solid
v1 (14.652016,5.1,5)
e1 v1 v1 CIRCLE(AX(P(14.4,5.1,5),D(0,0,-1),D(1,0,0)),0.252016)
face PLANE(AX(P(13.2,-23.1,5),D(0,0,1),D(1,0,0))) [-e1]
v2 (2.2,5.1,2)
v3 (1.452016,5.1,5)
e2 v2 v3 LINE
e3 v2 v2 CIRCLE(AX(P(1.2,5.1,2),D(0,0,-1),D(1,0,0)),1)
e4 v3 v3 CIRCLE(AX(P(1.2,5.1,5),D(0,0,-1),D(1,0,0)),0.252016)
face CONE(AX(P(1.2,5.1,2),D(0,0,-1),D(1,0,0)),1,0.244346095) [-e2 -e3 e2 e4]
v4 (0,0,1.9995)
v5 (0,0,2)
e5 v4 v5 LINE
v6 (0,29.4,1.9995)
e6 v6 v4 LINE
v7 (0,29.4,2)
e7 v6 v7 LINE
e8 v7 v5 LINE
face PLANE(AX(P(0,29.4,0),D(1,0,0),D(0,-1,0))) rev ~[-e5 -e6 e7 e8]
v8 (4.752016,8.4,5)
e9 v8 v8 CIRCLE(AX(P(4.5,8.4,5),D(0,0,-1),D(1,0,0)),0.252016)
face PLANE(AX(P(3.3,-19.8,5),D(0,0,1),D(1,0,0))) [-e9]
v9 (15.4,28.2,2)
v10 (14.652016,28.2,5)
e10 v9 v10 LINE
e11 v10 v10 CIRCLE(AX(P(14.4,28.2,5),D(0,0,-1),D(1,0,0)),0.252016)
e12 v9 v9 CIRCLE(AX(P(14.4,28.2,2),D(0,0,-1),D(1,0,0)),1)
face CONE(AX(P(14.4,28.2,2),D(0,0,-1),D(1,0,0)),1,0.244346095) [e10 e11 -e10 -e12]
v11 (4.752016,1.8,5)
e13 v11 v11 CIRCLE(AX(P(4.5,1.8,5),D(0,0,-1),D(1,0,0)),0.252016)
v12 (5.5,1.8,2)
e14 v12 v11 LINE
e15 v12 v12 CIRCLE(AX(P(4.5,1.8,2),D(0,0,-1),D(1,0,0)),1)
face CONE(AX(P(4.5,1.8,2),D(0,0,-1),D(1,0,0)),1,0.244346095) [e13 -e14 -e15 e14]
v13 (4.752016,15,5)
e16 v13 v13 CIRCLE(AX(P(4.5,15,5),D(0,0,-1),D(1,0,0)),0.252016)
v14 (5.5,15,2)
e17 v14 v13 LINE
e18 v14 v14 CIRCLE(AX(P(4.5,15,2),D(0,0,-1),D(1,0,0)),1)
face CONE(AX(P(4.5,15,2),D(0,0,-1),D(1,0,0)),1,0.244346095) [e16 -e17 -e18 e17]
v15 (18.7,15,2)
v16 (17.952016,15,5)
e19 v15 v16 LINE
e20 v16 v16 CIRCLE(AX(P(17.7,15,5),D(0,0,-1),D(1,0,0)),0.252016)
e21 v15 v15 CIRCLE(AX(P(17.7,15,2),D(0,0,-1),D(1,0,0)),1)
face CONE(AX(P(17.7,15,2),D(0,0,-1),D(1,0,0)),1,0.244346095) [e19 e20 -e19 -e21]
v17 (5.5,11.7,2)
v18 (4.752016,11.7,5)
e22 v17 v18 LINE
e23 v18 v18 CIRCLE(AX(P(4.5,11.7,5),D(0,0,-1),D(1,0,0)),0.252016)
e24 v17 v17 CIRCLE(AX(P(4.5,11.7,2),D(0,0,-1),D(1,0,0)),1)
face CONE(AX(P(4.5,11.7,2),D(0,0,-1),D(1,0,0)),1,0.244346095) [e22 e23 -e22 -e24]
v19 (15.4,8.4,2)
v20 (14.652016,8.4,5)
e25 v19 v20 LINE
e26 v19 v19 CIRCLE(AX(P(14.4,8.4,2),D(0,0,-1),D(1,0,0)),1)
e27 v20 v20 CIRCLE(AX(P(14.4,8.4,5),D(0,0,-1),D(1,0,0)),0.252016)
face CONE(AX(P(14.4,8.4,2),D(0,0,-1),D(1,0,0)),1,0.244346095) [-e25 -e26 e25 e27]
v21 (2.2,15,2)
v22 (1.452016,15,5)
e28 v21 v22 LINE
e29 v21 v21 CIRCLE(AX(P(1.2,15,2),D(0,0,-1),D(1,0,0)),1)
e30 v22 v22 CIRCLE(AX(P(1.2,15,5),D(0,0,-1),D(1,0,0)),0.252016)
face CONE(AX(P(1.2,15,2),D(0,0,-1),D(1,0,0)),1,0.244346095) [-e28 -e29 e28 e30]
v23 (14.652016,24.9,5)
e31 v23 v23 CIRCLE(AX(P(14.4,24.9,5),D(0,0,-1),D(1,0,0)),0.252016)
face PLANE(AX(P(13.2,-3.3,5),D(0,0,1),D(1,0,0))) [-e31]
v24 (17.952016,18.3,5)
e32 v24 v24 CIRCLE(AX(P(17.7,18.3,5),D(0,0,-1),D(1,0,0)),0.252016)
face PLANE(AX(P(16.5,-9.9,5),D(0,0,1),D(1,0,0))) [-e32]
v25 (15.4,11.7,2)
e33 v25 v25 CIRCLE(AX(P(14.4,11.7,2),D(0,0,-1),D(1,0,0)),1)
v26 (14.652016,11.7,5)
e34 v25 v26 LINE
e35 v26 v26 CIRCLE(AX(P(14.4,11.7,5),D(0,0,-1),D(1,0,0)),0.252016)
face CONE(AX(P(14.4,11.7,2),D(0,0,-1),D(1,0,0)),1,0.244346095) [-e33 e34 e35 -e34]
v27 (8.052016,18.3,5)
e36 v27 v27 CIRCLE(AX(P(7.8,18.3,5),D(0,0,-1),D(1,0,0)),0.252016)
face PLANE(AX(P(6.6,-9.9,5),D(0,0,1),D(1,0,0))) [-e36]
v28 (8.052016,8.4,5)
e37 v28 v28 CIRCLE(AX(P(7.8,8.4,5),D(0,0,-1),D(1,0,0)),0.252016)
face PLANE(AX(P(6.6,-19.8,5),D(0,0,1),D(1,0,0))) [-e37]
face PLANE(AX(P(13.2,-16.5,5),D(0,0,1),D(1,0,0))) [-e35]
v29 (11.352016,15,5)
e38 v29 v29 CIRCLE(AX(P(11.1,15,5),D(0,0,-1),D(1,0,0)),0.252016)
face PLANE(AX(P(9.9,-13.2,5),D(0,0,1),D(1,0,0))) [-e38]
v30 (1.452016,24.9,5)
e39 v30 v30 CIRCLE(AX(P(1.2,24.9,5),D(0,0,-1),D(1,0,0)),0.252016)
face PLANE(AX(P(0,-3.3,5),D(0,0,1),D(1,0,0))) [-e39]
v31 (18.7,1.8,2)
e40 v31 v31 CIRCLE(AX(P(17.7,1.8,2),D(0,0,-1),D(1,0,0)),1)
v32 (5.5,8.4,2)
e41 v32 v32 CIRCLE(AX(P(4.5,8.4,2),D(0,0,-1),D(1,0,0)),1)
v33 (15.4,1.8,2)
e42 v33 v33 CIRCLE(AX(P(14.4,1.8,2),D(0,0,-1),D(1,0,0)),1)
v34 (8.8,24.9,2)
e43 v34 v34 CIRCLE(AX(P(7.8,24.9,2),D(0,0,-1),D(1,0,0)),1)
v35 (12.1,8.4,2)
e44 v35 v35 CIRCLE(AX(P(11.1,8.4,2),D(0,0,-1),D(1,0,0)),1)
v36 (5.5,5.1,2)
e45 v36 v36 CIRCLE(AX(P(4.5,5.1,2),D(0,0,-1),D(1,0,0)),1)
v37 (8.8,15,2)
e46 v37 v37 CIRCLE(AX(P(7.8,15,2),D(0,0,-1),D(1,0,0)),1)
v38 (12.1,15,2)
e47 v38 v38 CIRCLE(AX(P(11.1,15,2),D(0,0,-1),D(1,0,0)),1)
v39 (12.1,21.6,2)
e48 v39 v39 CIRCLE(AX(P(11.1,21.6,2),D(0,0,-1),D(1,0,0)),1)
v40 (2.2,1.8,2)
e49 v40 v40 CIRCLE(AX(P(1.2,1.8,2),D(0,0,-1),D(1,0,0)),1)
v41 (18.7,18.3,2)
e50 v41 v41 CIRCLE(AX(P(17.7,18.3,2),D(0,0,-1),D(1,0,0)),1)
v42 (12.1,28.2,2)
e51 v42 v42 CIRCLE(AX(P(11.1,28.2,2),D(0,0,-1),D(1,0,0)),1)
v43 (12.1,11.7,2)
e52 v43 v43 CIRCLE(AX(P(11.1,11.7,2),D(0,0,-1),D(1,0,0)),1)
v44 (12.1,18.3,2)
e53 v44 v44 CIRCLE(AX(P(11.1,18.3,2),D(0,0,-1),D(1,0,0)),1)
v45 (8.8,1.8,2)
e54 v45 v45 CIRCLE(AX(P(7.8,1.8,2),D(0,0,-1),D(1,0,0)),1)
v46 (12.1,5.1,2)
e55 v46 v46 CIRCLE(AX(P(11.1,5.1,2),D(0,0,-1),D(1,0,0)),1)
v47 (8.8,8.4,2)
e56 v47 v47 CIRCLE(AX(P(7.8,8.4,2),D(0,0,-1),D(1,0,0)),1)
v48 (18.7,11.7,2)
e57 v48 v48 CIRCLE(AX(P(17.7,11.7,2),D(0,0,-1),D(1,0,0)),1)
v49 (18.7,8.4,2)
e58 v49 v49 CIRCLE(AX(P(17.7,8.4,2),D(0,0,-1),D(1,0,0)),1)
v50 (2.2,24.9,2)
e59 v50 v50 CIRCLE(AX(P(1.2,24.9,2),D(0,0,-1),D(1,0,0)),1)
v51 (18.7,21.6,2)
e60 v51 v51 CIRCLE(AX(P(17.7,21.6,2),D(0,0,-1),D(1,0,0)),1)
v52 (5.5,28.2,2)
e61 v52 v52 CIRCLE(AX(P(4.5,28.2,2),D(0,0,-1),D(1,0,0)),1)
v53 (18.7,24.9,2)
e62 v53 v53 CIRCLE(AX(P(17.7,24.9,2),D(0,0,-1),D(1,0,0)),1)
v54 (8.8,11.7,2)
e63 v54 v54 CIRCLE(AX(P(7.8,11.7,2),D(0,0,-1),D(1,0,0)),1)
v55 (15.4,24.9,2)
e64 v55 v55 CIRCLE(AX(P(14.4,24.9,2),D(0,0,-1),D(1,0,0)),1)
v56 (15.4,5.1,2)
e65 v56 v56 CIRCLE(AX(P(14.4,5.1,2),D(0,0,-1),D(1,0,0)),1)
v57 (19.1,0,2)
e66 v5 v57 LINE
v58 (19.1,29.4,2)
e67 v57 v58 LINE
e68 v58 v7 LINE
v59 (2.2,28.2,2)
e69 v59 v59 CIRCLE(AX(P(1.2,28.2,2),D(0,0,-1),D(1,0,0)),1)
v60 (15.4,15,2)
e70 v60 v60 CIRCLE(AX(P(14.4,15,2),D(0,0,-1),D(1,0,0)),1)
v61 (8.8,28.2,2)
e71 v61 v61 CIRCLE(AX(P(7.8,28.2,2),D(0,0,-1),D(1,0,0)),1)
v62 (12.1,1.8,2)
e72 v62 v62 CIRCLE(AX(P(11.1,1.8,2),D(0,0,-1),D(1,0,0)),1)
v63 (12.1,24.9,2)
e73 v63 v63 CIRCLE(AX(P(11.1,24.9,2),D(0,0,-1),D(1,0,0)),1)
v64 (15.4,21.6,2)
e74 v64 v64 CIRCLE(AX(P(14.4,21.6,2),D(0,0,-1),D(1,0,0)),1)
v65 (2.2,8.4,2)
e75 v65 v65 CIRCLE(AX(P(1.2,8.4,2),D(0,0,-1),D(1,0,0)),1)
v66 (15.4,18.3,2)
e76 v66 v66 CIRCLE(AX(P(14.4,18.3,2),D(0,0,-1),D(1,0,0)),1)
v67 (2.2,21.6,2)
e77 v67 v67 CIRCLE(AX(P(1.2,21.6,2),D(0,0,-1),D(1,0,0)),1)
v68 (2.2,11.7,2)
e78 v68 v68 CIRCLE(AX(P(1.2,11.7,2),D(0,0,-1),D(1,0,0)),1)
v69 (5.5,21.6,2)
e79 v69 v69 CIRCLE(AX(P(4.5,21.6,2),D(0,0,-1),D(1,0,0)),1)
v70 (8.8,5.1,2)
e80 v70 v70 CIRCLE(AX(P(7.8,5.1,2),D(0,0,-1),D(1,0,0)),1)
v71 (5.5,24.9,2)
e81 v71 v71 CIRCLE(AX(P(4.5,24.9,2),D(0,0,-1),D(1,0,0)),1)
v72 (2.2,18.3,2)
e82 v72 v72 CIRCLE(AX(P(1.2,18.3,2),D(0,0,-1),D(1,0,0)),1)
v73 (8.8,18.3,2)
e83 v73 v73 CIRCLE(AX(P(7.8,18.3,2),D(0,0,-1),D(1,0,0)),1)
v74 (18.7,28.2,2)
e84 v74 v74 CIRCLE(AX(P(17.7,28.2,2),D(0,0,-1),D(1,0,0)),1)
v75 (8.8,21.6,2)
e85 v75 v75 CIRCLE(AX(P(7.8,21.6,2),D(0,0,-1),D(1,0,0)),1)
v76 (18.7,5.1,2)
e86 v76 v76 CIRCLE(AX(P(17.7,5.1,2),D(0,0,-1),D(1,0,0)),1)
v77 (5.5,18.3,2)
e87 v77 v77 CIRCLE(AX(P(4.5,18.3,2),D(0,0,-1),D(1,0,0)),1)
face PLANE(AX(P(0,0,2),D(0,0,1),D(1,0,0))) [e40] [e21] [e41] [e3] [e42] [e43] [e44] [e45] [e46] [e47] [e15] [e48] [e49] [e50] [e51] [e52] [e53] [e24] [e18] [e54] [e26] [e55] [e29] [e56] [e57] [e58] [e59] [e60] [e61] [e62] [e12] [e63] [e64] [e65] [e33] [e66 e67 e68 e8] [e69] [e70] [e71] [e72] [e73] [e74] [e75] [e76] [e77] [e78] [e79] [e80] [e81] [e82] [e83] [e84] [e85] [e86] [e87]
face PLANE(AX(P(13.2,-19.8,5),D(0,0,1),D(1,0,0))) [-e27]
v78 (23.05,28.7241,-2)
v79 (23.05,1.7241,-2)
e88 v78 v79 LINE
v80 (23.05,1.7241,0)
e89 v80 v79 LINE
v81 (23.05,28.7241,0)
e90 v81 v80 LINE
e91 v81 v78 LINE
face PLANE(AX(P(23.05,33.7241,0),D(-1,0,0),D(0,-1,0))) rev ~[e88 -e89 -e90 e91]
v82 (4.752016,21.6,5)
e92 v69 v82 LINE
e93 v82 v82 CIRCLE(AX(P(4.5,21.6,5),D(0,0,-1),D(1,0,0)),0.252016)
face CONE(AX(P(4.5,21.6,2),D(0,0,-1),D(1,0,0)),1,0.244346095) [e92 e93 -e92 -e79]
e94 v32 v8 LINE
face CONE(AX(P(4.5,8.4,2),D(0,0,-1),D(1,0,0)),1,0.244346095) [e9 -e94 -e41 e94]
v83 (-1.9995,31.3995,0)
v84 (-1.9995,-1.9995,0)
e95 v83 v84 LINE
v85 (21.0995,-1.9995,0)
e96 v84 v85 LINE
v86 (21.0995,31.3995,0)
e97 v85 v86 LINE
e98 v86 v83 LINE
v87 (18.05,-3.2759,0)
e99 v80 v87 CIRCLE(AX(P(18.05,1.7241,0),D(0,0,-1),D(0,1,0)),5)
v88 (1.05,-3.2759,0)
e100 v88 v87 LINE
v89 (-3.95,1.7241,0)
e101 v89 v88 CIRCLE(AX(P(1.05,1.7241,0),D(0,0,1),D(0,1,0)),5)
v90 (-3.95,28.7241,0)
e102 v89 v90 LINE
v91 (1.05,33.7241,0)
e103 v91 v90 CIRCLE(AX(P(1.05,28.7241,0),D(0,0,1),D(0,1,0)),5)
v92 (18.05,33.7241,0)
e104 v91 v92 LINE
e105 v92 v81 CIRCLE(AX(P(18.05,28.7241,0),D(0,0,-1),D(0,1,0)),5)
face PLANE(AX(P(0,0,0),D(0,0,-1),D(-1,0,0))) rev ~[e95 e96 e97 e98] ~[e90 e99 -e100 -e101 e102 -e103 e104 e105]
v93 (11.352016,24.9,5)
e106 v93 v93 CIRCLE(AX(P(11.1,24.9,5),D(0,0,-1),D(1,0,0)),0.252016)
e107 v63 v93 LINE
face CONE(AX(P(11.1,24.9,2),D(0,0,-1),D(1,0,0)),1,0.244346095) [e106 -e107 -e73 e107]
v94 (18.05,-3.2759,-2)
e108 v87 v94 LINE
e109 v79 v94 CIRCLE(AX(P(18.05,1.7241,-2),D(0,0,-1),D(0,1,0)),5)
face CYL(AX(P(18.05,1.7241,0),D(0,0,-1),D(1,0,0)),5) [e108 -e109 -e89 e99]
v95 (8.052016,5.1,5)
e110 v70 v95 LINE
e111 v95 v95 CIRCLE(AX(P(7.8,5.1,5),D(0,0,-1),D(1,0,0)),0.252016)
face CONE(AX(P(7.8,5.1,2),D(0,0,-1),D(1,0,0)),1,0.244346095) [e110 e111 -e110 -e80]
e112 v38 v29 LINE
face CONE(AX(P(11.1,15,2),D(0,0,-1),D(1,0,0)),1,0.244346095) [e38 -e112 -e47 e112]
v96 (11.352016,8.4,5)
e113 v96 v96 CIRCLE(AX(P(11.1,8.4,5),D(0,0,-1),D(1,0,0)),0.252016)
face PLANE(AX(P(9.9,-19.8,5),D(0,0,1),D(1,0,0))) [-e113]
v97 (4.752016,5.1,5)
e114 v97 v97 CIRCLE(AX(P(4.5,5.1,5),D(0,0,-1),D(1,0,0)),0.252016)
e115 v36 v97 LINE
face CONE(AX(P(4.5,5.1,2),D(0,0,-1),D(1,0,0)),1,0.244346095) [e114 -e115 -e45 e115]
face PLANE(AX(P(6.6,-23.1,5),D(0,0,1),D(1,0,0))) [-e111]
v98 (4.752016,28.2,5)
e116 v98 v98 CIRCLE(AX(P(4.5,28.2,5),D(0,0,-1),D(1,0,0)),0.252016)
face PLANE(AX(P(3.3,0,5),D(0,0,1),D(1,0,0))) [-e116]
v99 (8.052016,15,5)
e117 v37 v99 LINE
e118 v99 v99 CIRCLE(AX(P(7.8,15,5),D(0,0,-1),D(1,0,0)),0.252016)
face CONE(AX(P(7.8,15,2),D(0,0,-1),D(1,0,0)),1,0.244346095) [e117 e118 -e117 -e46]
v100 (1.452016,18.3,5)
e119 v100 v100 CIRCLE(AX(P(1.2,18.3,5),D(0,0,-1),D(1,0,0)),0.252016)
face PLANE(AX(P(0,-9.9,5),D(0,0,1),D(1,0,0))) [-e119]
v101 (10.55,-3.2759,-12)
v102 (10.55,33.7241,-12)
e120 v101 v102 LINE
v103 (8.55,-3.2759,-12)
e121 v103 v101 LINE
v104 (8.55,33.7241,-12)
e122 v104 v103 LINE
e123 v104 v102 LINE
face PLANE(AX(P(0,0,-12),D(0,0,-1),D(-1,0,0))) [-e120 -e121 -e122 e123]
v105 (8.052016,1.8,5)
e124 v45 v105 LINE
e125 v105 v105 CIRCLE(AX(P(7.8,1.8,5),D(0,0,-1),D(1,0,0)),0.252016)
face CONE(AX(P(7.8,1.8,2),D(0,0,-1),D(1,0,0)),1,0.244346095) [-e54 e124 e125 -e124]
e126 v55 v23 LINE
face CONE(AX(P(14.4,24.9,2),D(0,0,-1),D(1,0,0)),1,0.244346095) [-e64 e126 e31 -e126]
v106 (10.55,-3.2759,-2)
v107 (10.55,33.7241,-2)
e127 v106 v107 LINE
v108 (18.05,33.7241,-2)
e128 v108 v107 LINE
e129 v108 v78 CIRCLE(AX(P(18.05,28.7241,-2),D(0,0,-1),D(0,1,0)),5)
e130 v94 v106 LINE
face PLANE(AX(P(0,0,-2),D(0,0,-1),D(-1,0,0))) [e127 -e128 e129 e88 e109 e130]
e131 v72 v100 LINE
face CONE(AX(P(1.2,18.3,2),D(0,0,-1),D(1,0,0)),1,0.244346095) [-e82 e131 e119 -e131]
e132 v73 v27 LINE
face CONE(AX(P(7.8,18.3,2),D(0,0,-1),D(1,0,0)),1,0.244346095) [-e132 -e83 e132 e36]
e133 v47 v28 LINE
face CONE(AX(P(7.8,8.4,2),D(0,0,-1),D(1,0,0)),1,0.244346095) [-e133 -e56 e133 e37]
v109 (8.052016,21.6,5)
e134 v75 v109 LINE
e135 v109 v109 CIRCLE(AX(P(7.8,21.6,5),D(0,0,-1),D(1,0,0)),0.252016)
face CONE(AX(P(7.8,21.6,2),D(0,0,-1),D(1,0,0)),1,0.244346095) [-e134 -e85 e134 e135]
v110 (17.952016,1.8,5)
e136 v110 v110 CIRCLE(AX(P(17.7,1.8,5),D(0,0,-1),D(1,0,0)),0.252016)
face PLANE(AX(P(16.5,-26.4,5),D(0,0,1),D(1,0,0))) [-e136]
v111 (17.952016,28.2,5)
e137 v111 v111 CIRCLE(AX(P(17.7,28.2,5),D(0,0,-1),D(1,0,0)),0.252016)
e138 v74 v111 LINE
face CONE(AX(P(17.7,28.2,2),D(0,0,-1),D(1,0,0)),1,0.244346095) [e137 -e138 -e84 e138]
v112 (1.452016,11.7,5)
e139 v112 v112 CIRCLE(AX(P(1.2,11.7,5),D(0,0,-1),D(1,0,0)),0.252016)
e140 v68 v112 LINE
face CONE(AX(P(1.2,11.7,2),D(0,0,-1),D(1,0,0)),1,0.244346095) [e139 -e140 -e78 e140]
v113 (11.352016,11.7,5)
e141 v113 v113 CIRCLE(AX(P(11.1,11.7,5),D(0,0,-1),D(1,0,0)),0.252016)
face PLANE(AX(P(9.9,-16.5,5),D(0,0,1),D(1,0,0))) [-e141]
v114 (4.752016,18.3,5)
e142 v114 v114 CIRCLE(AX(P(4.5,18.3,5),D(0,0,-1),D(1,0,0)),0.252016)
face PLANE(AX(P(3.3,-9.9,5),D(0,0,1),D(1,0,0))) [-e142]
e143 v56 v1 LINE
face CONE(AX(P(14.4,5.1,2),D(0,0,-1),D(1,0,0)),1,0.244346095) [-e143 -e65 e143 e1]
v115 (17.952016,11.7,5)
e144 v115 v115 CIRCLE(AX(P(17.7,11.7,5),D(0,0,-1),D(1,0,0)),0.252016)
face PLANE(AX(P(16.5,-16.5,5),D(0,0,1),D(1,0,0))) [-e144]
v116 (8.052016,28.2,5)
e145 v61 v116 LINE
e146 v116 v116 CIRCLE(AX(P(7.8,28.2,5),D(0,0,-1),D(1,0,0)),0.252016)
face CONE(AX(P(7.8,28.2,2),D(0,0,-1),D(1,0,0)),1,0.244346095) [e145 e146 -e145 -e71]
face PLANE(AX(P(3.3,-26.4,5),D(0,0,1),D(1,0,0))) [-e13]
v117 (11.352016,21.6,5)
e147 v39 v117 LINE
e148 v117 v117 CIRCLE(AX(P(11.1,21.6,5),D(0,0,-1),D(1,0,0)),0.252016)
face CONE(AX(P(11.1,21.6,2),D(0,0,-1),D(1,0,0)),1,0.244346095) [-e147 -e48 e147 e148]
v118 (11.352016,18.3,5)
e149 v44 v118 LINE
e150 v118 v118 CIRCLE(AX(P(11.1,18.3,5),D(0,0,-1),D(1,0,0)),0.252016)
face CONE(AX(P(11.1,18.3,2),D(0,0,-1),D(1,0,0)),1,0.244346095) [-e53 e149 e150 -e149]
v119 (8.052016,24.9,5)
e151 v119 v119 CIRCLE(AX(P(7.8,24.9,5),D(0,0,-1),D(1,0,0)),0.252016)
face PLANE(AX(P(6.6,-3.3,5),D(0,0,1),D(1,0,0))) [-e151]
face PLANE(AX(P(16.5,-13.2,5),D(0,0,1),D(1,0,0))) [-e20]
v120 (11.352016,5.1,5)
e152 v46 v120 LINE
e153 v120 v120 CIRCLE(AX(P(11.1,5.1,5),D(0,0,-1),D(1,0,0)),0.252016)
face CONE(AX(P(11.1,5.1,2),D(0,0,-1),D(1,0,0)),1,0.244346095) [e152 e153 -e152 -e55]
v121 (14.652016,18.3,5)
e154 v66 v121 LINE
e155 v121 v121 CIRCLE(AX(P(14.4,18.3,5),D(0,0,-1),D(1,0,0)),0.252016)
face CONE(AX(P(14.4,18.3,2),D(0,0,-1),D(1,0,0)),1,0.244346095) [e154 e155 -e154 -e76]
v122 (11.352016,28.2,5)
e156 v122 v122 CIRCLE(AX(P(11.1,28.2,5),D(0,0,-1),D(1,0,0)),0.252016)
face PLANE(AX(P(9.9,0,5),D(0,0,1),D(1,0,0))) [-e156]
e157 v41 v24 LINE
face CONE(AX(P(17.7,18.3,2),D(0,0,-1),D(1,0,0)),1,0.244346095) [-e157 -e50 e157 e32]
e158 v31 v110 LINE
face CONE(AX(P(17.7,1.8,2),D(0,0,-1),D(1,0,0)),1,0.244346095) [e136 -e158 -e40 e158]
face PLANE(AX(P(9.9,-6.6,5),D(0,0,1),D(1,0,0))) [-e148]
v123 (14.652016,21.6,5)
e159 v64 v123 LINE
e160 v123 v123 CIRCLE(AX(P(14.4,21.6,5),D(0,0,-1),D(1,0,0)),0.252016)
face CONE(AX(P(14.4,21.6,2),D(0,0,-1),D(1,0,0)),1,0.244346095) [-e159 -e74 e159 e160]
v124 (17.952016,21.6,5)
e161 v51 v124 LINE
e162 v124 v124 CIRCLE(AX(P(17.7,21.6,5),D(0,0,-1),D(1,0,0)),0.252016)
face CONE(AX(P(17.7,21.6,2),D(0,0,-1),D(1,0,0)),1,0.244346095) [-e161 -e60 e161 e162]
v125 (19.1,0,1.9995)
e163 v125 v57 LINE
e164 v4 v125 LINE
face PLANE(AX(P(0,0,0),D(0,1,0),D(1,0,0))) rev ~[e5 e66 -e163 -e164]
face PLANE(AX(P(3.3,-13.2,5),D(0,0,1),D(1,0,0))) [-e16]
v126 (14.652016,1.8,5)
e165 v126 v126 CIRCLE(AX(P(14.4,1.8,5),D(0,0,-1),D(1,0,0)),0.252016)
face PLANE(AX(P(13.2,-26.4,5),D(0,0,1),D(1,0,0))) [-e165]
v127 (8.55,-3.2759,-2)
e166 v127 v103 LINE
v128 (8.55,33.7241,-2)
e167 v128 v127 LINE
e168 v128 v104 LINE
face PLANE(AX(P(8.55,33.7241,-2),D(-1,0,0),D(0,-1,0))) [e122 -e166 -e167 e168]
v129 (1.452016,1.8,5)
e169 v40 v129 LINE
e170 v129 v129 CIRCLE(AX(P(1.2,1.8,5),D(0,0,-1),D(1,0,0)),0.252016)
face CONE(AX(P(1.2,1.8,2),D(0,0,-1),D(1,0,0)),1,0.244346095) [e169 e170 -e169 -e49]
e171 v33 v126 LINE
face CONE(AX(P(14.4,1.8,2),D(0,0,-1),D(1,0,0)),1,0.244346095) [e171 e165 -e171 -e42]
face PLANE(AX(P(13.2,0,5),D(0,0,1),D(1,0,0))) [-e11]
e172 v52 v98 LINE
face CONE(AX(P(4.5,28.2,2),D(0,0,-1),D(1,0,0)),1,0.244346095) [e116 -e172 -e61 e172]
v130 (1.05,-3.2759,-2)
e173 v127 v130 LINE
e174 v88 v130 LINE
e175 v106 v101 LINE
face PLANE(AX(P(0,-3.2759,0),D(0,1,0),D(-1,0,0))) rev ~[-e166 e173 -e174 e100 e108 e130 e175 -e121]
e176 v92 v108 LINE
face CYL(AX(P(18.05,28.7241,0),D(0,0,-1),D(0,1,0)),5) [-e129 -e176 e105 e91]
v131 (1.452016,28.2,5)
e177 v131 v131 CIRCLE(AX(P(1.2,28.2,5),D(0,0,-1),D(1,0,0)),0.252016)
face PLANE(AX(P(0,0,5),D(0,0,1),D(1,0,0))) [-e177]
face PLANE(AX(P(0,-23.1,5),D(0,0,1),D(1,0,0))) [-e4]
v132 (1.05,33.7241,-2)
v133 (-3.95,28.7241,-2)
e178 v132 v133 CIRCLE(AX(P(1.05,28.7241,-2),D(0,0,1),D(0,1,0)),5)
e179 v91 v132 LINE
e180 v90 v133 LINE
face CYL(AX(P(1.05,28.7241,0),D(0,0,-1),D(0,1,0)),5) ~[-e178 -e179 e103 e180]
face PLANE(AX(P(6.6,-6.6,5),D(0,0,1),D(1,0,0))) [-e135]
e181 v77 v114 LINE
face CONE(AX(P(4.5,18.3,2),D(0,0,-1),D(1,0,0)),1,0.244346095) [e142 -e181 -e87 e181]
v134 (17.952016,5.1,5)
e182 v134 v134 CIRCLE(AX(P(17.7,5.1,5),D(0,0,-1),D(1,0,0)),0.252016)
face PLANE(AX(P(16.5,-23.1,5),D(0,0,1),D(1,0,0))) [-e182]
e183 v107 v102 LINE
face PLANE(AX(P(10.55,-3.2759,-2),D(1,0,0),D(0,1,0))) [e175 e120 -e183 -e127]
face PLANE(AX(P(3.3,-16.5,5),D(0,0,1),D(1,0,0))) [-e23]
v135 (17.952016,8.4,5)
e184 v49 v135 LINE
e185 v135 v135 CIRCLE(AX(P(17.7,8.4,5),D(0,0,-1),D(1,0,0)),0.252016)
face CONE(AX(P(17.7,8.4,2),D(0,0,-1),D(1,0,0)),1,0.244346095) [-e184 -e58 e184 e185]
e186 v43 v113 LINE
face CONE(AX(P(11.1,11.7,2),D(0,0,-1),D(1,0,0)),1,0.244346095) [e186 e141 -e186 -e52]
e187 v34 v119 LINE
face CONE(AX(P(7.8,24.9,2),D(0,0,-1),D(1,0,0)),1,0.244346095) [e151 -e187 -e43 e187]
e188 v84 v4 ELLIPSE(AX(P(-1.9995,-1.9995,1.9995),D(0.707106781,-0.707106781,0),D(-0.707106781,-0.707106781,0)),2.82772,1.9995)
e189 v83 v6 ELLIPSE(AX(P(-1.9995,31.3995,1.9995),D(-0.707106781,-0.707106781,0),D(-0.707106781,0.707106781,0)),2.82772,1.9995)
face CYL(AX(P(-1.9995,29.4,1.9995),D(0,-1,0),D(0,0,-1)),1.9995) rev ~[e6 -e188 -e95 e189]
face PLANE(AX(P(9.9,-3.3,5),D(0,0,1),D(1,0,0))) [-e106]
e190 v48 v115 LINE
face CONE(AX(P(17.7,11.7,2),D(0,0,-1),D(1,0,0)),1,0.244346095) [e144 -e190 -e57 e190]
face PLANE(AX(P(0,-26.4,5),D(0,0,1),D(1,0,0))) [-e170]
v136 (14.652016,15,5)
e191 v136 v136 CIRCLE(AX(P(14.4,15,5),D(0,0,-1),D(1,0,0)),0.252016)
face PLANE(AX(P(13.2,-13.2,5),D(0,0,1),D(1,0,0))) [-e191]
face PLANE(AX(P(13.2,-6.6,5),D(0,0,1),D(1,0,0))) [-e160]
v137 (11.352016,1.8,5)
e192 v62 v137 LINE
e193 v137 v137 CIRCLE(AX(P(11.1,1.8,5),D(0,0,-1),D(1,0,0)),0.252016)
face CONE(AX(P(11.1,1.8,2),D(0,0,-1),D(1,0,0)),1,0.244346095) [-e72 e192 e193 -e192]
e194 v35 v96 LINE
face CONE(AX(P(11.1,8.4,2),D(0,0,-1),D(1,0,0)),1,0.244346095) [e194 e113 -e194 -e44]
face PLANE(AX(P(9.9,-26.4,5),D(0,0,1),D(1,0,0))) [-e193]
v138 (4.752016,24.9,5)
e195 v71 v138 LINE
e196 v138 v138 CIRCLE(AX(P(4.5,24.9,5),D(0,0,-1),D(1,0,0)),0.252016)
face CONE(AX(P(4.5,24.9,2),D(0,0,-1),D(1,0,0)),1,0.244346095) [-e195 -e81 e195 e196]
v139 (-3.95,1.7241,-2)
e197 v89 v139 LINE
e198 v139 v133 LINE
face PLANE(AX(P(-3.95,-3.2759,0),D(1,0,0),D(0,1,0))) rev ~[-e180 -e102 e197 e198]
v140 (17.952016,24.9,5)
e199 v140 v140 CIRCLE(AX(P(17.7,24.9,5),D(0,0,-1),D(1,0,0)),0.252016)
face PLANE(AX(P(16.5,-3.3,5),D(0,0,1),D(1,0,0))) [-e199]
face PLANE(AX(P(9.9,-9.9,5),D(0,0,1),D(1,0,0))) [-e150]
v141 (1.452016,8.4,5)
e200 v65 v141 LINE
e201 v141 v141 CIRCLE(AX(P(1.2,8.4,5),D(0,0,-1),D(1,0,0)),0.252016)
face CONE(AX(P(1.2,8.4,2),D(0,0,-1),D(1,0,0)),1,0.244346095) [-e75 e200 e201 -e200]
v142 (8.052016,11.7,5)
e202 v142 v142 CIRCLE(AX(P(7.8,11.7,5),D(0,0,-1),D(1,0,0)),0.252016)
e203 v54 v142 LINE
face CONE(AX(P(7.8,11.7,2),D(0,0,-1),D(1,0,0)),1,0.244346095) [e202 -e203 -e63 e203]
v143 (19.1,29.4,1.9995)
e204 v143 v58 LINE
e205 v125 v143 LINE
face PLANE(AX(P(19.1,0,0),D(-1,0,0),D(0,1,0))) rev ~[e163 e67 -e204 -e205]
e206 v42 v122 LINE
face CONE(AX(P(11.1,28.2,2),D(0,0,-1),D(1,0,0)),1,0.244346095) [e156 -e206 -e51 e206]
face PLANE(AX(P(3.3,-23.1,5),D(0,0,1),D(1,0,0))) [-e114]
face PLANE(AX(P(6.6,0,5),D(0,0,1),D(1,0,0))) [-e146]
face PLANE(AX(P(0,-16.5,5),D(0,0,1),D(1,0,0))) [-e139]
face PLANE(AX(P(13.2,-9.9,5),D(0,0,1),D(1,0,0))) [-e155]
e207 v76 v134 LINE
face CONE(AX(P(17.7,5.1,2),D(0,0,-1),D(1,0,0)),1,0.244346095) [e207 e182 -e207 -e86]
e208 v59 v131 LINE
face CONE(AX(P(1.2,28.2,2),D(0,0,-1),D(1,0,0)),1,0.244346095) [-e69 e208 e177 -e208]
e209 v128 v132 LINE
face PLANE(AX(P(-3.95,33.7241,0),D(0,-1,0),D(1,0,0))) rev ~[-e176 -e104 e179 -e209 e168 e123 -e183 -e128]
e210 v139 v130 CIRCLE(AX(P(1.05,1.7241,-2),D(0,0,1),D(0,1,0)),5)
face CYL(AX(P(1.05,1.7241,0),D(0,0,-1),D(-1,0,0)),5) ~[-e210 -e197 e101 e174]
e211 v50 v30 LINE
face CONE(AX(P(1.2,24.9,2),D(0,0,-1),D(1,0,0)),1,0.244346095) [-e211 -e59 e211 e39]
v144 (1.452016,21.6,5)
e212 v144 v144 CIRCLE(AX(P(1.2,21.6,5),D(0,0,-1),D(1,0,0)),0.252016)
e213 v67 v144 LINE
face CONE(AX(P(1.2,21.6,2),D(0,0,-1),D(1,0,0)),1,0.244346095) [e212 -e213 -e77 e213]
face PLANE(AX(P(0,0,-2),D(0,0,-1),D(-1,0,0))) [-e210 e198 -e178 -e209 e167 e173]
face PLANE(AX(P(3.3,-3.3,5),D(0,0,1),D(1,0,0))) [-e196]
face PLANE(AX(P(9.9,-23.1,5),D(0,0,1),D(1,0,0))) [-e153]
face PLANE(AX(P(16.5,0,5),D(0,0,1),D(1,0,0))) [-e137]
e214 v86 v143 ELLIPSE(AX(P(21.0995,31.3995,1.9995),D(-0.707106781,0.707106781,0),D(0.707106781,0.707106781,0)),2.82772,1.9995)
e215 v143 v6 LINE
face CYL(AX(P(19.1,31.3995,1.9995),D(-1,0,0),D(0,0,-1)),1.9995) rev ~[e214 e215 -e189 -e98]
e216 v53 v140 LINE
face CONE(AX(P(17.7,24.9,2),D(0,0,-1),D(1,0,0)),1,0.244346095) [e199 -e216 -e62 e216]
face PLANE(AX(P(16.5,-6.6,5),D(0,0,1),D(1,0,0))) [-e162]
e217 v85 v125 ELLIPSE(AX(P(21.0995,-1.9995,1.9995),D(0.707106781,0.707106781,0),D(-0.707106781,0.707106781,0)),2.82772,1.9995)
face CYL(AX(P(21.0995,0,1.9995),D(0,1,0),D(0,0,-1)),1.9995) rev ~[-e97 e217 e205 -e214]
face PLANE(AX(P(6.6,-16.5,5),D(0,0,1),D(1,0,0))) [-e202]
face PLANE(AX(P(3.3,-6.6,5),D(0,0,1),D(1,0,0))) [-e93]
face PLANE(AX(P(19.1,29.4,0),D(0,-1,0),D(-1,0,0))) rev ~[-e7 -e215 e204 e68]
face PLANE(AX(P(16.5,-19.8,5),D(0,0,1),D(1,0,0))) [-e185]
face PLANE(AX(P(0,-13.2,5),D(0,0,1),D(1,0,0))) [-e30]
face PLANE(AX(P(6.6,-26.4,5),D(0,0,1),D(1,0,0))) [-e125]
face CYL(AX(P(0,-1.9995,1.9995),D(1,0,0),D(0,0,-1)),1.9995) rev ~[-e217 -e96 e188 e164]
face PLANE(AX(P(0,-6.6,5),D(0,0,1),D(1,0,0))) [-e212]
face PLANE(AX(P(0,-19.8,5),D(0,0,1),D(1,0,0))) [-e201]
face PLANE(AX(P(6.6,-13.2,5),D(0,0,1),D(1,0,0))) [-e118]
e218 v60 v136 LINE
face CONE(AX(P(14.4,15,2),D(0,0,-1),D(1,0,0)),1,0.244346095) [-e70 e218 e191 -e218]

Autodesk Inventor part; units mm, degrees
ref_plane "YZ Plane" through (0, 0, 0) normal (1, 0, 0) x (0, 1, 0)
sketch "Sketch1" plane through (0, 0, 0) normal (0, 0, 1) x (1, 0, 0)
  line L0 (0, 0) -> (19.1, 0)
  line L1 (19.1, 0) -> (19.1, 29.4)
  line L2 (19.1, 29.4) -> (0, 29.4)
  line L3 (0, 29.4) -> (0, 0)
  dimension "d0" = 19.1
  dimension "d1" = 29.4
extrude "Extrusion1" add sketch "Sketch1" along normal blind 2
sketch "Sketch2" plane through (0, 0, 2) normal (0, 0, 1) x (1, 0, 0)
  line L0 (0, 29.4) -> (0, 0) projected
  circle A0 centre (1.2, 28.2) radius 1
  line L1 (19.1, 29.4) -> (0, 29.4) projected
  dimension "d6" = 2
  dimension "d7" = 1.2
  dimension "d8" = 1.2
ref_plane "Work Plane1" through (0, 0, 5) normal (0, 0, 1) x (1, 0, 0)
ref_plane "Work Plane2" through (0, 0, 4.5) normal (0, 0, 1) x (1, 0, 0)
extrude "Extrusion3" add sketch "Sketch2" along normal blind 3 draft -14
pattern_linear "Rectangular Pattern1" count 6 spacing 3.3 along (1, 0, 0) count 9 spacing 3.3 along (0, -1, 0) of "Extrusion3"
sketch "Sketch6" plane through (0, 0, 0) normal (0, 0, -1) x (-1, 0, 0)
  line L0 (0, 29.4) -> (0, 0) projected
  line L1 (0, 15.2241) -> (0, -3.2759)
  line L2 (0, -3.2759) -> (-19.1, -3.2759)
  line L3 (-19.1, 0) -> (-19.1, 29.4) projected
  line L4 (-19.1, -3.2759) -> (-19.1, 33.7241)
  line L5 (-19.1, 33.7241) -> (0, 33.7241)
  line L6 (0, 33.7241) -> (0, -3.2759)
  line L7 (-9.55, -3.2759) -> (3.95, -3.2759)
  line L8 (3.95, -3.2759) -> (3.95, 33.7241)
  line L9 (3.95, 33.7241) -> (-23.05, 33.7241)
  line L10 (-23.05, 33.7241) -> (-23.05, -3.2759)
  line L11 (-23.05, -3.2759) -> (-19.1, -3.2759)
  dimension "d41" = 13.5
  dimension "d42" = 27
extrude "Extrusion4" add sketch "Sketch6" along normal blind 2
fillet "Fillet3" radius 5 4 edges at (23.05, -3.2759, -1) (-3.95, -3.2759, -1) (23.05, 33.7241, -1) (-3.95, 33.7241, -1)
sketch "Sketch8" plane through (0, 0, -2) normal (0, 0, -1) x (-1, 0, 0)
  line L0 (3.95, 1.7241) -> (3.95, 28.7241)
  line L1 (-23.05, 28.7241) -> (-23.05, 1.7241) projected
  line L2 (-18.05, -3.2759) -> (-1.05, -3.2759) projected
  line L3 (3.95, 1.7241) -> (3.95, 28.7241) projected
  arc A0 (-18.05, 33.7241) -> (-23.05, 28.7241) centre (-18.05, 28.7241) ccw projected
  line L4 (-1.05, 33.7241) -> (-18.05, 33.7241) projected
  line L5 (-23.05, 28.7241) -> (-23.05, 1.7241) projected
  line L6 (3.95, 1.7241) -> (3.95, 28.7241) projected
  line L7 (3.95, 14) -> (3.95, 16)
  line L8 (-18.05, -3.2759) -> (-1.05, -3.2759) projected
  line L9 (-9.55, -3.2759) -> (-10.55, -3.2759)
  line L10 (-10.55, -3.2759) -> (-10.55, 33.7241)
  line L11 (-10.55, 33.7241) -> (-8.55, 33.7241)
  line L12 (-8.55, 33.7241) -> (-8.55, -3.2759)
  line L13 (-9.55, -3.2759) -> (-8.55, -3.2759)
  point P0 (0, 0)
  point P1 (-21.05, 1.7241)
  dimension "d57" = 1
  dimension "d58" = 2
extrude "Extrusion5" add sketch "Sketch8" along normal blind 10
fillet "Fillet4" radius 2 4 edges at (19.1, 14.7, 0) (9.55, 29.4, 0) (0, 14.7, 0) (9.55, 0, 0)
properties part number "Mold_equalSpacing_2mm_Handle4"
